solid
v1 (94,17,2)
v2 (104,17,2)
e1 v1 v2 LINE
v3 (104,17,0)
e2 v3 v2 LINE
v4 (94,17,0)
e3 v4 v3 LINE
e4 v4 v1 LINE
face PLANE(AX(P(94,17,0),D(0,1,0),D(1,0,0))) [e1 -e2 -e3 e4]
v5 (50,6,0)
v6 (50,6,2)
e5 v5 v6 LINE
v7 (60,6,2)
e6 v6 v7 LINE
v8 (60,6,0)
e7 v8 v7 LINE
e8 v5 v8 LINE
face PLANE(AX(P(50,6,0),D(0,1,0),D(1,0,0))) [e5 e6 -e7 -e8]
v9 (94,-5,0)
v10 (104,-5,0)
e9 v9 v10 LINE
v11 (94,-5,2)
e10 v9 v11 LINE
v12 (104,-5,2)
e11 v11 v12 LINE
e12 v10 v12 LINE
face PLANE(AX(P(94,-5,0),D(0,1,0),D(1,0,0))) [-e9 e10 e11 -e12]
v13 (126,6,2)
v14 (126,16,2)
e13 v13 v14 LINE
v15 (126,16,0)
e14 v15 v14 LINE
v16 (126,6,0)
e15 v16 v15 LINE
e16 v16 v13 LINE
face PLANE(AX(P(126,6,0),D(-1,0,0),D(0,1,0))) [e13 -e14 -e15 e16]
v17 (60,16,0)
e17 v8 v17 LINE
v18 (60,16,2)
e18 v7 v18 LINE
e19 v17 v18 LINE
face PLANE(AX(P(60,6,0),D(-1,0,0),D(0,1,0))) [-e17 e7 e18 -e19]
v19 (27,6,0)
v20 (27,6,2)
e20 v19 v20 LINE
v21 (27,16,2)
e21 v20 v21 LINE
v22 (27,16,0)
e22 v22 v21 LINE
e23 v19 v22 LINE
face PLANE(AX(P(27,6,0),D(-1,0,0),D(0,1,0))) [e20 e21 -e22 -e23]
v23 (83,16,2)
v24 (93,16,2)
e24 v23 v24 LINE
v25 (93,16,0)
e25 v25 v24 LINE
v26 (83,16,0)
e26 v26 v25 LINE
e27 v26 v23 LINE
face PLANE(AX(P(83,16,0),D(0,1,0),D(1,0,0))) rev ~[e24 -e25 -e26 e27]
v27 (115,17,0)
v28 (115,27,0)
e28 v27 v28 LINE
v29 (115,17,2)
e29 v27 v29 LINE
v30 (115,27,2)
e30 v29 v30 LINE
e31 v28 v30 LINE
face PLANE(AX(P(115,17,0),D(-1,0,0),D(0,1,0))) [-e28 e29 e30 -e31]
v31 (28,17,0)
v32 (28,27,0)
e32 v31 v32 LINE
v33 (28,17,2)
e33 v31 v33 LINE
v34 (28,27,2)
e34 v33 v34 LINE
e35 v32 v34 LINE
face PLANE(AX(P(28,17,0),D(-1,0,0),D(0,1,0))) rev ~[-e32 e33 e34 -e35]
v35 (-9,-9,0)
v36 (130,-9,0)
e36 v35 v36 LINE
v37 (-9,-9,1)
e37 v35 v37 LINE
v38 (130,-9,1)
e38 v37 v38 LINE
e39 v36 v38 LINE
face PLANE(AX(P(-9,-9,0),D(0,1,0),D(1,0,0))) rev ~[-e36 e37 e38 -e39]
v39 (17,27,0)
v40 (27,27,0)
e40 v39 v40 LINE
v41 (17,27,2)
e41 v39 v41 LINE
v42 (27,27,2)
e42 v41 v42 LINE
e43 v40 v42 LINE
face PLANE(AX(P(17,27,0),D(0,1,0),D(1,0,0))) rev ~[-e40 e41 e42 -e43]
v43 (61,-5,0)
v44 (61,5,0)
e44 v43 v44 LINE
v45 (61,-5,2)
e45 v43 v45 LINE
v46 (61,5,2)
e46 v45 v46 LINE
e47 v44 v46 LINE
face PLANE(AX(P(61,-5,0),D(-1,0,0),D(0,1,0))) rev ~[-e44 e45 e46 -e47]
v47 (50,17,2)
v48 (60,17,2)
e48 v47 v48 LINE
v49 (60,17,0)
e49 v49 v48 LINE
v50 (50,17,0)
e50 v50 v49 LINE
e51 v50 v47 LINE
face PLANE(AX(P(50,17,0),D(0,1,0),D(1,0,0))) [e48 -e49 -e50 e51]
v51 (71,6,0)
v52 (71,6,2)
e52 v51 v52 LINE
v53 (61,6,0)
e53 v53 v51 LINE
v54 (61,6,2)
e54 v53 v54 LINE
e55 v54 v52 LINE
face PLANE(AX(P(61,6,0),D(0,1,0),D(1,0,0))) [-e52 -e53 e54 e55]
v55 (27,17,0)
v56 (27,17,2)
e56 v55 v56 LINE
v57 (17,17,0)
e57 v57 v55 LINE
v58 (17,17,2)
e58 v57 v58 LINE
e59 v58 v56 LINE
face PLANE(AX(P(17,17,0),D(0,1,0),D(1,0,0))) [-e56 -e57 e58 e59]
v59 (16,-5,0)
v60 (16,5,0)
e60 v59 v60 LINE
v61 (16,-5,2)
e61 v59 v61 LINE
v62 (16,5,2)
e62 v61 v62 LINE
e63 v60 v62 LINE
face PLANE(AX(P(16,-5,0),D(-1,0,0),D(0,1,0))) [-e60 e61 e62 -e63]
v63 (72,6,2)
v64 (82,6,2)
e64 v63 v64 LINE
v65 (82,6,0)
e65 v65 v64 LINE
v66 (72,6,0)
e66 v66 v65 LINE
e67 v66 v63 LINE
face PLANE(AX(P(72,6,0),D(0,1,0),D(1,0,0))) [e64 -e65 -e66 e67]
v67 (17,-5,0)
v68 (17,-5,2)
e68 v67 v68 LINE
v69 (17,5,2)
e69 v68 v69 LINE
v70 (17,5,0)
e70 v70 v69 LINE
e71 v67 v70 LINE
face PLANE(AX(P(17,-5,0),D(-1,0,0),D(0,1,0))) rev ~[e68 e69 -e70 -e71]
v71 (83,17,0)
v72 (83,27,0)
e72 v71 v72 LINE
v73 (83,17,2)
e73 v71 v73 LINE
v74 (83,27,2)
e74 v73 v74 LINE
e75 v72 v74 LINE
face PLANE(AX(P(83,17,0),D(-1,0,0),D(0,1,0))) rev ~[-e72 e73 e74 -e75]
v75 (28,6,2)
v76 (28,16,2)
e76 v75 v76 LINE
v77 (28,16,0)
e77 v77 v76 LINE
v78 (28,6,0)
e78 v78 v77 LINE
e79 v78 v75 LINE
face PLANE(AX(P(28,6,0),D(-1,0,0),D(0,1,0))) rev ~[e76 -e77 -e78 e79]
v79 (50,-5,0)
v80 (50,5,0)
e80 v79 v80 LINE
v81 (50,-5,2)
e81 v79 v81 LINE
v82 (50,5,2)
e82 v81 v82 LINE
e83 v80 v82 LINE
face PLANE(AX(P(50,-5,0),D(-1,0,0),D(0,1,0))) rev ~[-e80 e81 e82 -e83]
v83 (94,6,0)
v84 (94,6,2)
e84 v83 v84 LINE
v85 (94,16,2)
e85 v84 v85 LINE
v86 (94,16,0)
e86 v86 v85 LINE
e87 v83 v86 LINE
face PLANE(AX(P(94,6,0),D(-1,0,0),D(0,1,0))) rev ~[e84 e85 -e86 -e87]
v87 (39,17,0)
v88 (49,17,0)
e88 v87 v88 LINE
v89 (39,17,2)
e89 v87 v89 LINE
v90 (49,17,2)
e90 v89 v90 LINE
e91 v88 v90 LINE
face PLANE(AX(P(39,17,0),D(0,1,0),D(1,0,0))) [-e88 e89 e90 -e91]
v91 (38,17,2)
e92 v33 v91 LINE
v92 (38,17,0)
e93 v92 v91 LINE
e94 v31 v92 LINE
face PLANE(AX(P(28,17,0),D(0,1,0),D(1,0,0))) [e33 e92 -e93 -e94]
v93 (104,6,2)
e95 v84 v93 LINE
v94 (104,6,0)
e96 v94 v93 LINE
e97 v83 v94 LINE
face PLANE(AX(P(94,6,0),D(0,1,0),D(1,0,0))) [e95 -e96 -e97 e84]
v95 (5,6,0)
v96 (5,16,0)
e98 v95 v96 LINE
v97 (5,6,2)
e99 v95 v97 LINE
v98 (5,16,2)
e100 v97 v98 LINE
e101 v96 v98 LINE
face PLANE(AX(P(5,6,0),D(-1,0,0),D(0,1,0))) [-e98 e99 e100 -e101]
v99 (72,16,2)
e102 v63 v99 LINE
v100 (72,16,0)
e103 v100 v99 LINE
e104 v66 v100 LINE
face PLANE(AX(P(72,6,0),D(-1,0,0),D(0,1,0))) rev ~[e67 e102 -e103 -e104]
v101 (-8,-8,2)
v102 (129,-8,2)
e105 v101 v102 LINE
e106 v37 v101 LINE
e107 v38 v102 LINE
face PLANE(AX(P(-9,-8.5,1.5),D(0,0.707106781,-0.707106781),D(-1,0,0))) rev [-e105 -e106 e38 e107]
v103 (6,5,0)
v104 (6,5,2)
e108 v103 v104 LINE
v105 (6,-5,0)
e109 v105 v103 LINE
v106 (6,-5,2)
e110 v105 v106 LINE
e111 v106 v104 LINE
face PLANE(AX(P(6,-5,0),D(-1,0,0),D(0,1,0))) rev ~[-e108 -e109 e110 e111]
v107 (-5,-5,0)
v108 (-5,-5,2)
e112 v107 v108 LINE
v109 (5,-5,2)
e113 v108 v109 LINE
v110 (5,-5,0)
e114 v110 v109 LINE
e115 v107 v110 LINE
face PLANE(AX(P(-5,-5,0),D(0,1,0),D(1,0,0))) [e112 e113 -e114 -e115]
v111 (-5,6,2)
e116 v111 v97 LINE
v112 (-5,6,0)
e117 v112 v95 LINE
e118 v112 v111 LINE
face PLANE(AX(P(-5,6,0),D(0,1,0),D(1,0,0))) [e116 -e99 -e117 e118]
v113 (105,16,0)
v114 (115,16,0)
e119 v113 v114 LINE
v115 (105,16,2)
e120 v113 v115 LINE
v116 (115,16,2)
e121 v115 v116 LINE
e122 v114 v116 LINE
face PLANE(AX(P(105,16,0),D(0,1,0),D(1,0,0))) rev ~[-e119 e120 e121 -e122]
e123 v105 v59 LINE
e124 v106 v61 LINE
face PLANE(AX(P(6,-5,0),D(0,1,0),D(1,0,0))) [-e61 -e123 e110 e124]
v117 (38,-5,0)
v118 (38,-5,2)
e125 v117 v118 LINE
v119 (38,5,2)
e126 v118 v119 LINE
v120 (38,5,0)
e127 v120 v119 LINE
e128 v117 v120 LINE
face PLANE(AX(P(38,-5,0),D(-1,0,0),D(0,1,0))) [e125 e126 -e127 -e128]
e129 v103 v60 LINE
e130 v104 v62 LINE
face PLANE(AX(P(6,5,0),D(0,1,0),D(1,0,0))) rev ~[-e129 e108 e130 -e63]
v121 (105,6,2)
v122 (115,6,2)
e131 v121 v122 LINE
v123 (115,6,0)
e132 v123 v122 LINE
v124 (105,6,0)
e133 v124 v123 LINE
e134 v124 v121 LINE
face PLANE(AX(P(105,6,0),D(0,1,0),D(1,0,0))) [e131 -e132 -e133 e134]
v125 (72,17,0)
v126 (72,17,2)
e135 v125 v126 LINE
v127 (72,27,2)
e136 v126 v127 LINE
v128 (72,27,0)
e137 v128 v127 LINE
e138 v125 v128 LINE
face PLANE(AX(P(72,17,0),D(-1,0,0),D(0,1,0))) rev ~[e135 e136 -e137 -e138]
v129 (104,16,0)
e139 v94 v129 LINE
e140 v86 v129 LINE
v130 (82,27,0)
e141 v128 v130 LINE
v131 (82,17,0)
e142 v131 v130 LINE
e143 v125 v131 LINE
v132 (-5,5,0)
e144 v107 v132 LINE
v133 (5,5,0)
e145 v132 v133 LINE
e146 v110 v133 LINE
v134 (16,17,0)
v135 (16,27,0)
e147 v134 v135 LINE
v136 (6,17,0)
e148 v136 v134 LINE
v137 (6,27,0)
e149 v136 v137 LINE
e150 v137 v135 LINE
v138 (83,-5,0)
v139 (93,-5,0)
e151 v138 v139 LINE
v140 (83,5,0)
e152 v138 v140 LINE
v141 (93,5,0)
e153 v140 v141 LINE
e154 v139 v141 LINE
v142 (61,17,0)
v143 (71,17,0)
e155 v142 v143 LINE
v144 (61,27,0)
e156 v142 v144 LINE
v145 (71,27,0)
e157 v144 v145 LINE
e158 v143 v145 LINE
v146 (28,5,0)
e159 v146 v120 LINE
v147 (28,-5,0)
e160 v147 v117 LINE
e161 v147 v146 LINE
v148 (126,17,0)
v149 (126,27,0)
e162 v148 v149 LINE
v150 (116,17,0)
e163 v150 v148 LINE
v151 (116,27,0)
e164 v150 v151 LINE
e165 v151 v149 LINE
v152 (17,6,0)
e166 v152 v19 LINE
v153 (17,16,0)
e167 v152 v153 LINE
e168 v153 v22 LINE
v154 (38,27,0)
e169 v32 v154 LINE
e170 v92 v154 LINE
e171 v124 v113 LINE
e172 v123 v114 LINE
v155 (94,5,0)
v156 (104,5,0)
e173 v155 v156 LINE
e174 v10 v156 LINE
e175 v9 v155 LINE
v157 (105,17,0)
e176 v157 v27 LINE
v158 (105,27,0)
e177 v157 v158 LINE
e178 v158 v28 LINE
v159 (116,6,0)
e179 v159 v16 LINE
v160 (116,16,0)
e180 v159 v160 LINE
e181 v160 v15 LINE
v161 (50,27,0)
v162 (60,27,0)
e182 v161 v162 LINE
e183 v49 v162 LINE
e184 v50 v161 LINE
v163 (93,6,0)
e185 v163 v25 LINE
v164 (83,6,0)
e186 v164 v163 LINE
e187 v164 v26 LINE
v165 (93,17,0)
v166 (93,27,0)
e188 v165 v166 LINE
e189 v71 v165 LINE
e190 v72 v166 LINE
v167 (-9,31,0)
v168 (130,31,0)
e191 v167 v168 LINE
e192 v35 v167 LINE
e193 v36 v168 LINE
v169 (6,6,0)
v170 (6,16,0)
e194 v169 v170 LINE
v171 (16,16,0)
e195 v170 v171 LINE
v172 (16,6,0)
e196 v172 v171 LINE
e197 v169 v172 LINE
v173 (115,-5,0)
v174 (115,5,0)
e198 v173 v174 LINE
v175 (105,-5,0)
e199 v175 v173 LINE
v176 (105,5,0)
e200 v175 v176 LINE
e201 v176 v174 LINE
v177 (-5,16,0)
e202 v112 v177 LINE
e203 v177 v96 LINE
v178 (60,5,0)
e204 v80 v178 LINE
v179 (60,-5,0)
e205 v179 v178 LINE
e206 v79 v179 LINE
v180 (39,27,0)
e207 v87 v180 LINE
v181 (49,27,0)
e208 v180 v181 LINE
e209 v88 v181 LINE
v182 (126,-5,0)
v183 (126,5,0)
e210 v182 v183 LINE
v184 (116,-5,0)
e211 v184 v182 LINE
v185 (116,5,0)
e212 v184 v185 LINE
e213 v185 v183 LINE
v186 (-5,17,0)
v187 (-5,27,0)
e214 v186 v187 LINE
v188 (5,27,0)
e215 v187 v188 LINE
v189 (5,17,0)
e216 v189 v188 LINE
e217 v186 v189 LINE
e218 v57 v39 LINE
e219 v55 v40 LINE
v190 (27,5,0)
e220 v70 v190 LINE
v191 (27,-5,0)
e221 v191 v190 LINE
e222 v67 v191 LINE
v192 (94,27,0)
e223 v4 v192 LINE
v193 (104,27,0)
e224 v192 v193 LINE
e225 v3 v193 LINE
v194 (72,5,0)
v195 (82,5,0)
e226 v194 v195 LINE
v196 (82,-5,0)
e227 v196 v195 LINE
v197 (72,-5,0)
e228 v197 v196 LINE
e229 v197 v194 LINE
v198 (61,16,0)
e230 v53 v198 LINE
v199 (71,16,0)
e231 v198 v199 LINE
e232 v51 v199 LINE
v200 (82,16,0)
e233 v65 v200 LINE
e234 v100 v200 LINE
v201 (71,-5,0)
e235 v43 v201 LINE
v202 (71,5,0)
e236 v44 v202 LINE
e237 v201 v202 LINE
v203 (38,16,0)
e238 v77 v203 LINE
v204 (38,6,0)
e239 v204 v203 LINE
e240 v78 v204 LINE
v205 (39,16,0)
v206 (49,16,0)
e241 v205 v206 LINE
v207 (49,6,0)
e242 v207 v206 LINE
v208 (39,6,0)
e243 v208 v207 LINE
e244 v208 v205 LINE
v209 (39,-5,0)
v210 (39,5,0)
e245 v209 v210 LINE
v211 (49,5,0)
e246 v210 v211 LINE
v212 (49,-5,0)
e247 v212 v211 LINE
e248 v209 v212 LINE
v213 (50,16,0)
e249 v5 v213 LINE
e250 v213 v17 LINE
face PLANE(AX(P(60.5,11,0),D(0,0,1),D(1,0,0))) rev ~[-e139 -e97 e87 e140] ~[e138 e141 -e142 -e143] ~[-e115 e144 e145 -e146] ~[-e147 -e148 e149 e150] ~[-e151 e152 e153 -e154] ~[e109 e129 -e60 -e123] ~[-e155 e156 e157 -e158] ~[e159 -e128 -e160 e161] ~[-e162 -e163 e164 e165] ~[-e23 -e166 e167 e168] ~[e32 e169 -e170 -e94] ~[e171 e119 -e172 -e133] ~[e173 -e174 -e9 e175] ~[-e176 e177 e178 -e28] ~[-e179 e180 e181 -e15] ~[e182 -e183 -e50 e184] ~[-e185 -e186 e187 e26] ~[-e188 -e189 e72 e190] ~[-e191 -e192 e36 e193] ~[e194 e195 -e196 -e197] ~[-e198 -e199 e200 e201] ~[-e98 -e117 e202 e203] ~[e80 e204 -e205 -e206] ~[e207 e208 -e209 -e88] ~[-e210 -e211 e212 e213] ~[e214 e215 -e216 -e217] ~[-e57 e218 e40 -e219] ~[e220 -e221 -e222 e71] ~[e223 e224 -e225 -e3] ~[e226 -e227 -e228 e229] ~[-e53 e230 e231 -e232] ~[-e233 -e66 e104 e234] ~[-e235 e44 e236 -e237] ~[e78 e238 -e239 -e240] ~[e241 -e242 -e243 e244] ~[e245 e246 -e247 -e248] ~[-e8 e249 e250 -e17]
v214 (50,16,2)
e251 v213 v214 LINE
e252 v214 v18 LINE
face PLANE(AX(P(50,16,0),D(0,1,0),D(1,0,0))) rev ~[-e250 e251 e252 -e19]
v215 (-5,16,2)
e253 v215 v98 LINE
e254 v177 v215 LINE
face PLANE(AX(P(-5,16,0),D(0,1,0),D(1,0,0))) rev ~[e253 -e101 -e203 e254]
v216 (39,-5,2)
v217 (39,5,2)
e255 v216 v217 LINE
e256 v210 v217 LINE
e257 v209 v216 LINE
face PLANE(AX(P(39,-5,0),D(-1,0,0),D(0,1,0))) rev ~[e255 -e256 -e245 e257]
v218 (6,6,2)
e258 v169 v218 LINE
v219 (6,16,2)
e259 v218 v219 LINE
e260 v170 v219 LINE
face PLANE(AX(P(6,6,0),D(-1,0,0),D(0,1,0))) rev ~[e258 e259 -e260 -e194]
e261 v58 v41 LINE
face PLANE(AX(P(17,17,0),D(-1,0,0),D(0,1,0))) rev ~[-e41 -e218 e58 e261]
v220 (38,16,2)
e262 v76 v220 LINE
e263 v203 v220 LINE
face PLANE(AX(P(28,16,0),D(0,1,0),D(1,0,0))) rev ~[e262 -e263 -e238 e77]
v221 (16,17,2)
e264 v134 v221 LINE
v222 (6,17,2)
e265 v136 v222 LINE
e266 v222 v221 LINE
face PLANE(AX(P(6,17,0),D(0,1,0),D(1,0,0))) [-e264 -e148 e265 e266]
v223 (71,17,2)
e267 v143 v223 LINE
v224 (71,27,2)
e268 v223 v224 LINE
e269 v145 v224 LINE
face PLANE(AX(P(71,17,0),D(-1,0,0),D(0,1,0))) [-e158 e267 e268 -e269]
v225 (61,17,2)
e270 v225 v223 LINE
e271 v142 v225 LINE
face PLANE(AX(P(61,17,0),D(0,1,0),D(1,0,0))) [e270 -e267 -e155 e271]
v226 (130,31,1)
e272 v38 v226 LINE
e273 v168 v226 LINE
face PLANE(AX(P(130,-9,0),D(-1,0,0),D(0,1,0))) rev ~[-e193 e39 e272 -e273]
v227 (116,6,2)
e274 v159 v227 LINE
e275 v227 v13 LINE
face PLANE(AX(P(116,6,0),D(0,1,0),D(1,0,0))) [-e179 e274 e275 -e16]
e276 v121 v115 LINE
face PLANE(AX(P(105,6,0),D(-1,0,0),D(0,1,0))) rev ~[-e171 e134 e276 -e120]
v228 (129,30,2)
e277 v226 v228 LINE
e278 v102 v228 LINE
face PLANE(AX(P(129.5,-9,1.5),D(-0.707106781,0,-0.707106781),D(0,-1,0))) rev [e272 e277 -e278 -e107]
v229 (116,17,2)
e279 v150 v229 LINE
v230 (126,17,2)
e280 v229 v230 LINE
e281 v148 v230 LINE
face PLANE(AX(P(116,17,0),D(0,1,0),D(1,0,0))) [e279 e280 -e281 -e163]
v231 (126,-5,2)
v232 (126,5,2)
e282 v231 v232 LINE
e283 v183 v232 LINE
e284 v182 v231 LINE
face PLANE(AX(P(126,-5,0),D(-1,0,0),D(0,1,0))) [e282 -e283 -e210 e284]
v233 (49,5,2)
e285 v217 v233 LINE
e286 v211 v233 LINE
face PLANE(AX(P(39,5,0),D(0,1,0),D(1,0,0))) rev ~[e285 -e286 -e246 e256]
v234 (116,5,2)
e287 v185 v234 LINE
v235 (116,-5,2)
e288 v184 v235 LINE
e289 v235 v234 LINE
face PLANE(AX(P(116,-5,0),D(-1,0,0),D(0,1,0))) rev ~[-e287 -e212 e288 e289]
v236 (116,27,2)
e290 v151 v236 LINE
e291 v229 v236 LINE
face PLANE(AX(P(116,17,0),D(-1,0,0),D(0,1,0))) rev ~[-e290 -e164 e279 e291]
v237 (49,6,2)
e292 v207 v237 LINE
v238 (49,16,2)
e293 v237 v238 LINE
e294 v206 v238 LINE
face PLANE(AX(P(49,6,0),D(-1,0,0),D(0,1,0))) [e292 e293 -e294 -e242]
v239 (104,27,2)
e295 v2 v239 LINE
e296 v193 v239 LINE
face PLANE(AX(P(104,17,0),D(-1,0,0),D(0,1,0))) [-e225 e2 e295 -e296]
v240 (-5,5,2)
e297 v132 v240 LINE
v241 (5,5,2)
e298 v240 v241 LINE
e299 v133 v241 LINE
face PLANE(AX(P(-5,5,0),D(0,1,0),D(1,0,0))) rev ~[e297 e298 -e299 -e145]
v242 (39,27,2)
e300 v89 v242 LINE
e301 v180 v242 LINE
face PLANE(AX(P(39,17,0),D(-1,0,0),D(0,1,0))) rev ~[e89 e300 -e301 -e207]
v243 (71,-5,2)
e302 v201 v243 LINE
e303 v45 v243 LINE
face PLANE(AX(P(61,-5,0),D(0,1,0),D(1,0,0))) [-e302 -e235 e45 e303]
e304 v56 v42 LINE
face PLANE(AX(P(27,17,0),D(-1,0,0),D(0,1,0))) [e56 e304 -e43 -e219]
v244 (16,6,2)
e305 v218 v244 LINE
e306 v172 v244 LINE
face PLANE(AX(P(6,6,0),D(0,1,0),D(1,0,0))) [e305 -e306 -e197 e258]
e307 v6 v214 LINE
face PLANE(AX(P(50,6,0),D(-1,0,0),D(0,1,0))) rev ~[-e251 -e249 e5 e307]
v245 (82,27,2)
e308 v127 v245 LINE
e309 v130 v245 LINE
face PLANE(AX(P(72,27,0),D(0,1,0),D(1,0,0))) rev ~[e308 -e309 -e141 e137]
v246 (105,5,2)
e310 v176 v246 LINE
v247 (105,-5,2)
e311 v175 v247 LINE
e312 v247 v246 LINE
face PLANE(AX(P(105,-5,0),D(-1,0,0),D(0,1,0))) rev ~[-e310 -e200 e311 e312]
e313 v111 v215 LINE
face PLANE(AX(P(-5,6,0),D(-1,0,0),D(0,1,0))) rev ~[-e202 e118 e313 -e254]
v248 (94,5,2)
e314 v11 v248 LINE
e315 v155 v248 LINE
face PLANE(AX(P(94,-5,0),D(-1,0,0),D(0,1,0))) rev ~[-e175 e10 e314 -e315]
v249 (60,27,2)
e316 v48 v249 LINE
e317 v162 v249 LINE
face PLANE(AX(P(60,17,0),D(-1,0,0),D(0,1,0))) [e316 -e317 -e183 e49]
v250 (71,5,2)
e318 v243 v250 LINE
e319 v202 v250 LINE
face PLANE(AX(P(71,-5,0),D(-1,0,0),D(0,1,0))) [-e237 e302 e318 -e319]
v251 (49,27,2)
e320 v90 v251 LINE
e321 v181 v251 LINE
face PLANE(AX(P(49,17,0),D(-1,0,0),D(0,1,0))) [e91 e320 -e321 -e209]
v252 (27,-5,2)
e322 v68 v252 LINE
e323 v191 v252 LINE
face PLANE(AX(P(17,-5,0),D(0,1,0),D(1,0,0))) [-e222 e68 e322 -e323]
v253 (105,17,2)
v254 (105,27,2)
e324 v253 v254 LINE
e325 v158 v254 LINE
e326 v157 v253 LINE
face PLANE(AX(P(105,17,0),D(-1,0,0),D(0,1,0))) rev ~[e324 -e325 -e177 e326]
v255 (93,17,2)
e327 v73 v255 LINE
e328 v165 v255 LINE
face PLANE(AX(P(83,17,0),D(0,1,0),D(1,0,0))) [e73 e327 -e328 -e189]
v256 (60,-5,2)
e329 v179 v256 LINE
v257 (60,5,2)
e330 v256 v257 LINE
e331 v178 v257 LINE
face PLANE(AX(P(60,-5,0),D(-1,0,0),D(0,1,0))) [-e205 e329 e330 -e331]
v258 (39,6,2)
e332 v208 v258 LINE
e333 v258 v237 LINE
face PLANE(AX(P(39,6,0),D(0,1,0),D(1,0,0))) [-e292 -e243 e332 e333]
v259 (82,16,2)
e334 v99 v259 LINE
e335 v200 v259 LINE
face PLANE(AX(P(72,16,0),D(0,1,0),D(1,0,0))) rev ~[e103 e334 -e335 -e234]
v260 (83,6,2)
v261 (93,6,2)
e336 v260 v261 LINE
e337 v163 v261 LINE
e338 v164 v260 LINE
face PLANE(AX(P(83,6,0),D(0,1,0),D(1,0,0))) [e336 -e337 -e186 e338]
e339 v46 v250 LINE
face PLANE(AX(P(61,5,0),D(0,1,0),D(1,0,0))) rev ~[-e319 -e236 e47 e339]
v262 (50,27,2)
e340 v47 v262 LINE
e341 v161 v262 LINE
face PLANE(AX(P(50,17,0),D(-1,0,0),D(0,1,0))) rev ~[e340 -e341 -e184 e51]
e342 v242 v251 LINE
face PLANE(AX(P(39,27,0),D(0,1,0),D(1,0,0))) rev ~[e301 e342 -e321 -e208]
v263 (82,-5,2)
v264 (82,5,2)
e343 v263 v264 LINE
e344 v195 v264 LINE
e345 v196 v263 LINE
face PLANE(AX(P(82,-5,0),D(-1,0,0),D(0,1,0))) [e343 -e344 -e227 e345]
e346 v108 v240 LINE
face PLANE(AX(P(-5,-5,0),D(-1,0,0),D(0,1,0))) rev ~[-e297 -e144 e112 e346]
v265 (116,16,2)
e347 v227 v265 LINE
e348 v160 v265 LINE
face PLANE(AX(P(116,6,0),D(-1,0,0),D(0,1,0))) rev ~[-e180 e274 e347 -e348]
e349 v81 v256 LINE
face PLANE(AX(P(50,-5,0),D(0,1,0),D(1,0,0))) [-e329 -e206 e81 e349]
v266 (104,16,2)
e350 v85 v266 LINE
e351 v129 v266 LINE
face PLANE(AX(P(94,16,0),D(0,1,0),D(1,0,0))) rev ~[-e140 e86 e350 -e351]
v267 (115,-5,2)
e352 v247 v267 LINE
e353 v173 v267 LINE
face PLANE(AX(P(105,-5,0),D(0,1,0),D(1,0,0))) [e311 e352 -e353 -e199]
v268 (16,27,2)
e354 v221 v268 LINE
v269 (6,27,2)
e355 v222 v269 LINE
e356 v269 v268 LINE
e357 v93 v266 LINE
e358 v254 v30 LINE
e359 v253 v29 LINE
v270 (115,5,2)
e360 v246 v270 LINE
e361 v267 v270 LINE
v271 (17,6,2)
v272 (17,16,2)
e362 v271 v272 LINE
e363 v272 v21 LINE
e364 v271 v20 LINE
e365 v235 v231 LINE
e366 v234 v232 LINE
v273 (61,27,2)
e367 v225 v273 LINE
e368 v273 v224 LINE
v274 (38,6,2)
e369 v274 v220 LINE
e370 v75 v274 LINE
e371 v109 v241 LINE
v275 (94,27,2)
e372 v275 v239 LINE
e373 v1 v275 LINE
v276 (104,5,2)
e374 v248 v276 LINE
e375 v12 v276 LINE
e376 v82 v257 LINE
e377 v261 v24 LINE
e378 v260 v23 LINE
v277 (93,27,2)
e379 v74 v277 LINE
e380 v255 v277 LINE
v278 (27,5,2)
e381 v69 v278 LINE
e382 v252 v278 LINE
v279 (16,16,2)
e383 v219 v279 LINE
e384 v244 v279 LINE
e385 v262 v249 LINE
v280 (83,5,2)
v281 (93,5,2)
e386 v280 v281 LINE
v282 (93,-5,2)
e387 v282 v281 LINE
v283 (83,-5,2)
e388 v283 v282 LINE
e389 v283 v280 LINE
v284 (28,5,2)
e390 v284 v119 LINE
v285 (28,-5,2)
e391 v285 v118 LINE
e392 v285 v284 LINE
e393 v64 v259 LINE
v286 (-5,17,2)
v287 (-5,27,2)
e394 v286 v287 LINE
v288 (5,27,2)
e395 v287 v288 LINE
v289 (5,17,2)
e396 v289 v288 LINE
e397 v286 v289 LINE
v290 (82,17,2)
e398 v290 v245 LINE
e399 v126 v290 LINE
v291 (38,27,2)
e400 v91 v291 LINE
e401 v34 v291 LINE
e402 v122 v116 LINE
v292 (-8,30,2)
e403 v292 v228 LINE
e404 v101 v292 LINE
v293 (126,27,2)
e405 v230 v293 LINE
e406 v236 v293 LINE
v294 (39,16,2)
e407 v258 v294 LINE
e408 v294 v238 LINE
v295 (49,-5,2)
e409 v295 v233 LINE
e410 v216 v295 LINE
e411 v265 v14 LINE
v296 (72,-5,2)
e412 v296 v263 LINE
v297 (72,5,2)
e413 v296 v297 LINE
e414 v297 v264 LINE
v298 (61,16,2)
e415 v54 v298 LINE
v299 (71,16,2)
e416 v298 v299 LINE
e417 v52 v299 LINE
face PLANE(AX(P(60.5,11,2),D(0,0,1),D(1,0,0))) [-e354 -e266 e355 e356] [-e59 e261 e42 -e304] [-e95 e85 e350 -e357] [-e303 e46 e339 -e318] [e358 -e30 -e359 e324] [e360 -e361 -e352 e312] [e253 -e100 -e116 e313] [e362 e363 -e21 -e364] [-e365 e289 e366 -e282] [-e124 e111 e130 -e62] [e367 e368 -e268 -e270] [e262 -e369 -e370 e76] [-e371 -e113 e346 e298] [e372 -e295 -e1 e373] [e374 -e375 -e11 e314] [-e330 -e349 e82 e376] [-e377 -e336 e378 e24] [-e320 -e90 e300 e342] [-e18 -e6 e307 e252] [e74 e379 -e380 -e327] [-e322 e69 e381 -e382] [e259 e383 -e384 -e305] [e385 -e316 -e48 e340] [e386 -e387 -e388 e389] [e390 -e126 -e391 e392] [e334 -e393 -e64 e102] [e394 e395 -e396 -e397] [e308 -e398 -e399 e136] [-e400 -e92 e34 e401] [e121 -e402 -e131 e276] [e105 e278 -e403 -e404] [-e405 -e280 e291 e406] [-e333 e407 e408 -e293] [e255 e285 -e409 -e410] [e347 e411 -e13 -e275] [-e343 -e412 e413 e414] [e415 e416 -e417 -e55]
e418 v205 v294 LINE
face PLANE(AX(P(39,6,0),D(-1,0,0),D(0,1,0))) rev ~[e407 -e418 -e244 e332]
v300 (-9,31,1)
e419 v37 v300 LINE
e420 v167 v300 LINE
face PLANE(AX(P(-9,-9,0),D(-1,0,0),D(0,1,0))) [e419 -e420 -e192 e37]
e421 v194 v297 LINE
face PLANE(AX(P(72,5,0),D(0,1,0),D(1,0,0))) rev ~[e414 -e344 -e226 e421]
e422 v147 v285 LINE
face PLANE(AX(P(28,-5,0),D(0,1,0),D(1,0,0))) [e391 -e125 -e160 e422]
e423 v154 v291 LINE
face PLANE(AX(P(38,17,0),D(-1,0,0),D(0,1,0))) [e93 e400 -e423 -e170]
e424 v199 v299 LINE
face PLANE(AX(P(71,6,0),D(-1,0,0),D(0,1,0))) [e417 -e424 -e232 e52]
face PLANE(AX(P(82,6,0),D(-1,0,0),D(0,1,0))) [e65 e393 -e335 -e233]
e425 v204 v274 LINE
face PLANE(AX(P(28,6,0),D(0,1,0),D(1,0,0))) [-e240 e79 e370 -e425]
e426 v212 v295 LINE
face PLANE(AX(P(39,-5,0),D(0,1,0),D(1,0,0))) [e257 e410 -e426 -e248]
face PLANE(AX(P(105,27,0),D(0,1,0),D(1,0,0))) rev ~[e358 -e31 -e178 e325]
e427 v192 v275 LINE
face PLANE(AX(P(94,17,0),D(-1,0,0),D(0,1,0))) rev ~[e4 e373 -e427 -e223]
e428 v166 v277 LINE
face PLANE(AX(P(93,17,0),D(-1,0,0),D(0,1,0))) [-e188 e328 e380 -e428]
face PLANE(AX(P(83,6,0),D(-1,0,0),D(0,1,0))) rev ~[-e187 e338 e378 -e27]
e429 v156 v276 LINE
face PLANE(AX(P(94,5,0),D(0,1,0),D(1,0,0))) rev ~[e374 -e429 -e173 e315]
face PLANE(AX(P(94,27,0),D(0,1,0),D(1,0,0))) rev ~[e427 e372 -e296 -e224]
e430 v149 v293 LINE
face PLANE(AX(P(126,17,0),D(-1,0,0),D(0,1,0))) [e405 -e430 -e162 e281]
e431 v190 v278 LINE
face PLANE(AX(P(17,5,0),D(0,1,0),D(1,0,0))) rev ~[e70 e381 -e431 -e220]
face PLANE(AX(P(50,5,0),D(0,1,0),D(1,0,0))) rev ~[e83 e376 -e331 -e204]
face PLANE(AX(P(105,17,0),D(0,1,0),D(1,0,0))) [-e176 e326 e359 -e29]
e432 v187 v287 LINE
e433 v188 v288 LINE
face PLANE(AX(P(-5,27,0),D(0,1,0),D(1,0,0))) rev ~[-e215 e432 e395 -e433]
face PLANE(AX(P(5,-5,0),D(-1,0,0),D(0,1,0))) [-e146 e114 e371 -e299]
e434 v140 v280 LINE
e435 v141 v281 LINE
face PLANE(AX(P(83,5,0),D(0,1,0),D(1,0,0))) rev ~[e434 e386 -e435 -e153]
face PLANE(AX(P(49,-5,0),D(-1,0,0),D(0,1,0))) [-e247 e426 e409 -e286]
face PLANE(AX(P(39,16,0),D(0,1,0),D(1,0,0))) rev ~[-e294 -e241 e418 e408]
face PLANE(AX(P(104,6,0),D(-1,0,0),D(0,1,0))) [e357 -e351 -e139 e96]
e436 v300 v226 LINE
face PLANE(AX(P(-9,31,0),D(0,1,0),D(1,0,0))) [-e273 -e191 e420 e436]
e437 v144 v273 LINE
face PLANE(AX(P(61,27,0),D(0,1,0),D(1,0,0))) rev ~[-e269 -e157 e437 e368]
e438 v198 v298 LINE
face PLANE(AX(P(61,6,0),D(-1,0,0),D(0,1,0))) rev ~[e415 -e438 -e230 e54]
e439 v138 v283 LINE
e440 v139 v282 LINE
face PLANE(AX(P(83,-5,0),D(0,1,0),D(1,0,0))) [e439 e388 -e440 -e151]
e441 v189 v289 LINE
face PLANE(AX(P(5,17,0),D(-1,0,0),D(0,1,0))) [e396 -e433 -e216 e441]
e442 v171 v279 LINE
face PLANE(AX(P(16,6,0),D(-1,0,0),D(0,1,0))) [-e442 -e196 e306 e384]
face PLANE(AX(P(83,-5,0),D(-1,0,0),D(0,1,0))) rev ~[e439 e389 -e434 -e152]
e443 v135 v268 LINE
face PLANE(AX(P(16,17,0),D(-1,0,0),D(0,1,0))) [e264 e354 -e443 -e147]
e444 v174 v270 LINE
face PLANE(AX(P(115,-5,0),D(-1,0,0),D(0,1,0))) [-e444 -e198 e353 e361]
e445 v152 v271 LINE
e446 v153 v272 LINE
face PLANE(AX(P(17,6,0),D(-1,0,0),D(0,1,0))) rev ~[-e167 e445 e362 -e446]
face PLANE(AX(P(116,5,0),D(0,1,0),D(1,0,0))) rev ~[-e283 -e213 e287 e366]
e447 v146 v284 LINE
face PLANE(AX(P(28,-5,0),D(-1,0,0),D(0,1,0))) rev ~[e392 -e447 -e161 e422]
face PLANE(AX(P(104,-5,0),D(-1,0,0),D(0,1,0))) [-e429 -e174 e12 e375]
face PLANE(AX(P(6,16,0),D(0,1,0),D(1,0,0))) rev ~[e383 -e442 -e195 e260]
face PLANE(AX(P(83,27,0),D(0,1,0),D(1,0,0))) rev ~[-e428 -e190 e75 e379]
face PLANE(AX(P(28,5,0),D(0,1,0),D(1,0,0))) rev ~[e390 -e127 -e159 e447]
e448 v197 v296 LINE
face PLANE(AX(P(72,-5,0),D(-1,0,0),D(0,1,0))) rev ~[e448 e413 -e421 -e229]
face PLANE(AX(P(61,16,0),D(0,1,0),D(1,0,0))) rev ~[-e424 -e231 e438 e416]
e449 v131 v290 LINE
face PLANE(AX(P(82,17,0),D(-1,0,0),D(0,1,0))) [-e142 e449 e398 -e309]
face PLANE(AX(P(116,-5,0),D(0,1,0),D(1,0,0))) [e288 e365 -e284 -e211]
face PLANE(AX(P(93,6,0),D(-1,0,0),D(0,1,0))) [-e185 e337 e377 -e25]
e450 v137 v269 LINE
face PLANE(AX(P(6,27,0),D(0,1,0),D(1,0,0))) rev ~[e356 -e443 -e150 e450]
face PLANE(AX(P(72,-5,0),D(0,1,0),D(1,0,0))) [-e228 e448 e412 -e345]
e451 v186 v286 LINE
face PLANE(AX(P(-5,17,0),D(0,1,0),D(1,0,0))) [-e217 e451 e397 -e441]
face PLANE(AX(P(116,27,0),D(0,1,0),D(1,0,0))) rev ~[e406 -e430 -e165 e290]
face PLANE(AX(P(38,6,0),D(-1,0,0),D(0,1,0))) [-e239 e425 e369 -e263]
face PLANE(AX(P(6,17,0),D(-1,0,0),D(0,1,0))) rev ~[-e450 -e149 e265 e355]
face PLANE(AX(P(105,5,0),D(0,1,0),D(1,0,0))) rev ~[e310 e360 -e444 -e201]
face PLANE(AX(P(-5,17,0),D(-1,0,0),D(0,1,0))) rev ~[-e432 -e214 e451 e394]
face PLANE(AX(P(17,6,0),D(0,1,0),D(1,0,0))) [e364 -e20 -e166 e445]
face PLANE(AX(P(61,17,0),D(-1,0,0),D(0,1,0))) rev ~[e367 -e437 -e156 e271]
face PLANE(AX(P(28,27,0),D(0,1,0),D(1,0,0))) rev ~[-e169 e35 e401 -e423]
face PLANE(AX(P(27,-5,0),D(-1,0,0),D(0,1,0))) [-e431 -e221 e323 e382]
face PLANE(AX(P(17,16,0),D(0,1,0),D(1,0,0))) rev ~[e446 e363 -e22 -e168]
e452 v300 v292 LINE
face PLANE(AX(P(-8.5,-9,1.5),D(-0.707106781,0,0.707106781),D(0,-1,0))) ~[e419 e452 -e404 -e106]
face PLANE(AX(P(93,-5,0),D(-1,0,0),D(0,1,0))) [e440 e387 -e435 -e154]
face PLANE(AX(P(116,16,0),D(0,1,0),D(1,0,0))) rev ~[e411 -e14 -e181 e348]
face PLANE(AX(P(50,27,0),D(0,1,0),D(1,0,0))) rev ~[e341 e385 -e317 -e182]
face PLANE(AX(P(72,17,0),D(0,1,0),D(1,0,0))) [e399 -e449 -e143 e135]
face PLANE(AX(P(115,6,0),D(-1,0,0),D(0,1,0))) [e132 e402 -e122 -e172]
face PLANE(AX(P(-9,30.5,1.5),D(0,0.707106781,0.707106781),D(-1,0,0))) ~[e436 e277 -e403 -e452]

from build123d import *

# Parameters (mm, degrees)
F0_W     = 139
F0_H     = 40
F0_W_2   = 10
F0_H_2   = 10
F1_DEPTH = 2
F2_SIZE  = 1


with BuildPart() as f1:
    # F0 (on Top) → F1 (new body)
    with BuildSketch(Plane.XY):
        with Locations((60.5, 11)):
            Rectangle(F0_W, F0_H)
        Rectangle(F0_W_2, F0_H_2, mode=Mode.SUBTRACT)
        with Locations((11, 0)):
            Rectangle(F0_W_2, F0_H_2, mode=Mode.SUBTRACT)
        with Locations((22, 0)):
            Rectangle(F0_W_2, F0_H_2, mode=Mode.SUBTRACT)
        with Locations((33, 0)):
            Rectangle(F0_W_2, F0_H_2, mode=Mode.SUBTRACT)
        with Locations((44, 0)):
            Rectangle(F0_W_2, F0_H_2, mode=Mode.SUBTRACT)
        with Locations((55, 0)):
            Rectangle(F0_W_2, F0_H_2, mode=Mode.SUBTRACT)
        with Locations((66, 0)):
            Rectangle(F0_W_2, F0_H_2, mode=Mode.SUBTRACT)
        with Locations((77, 0)):
            Rectangle(F0_W_2, F0_H_2, mode=Mode.SUBTRACT)
        with Locations((88, 0)):
            Rectangle(F0_W_2, F0_H_2, mode=Mode.SUBTRACT)
        with Locations((99, 0)):
            Rectangle(F0_W_2, F0_H_2, mode=Mode.SUBTRACT)
        with Locations((110, 0)):
            Rectangle(F0_W_2, F0_H_2, mode=Mode.SUBTRACT)
        with Locations((121, 0)):
            Rectangle(F0_W_2, F0_H_2, mode=Mode.SUBTRACT)
        with Locations((0, 11)):
            Rectangle(F0_W_2, F0_H_2, mode=Mode.SUBTRACT)
        with Locations((11, 11)):
            Rectangle(F0_W_2, F0_H_2, mode=Mode.SUBTRACT)
        with Locations((22, 11)):
            Rectangle(F0_W_2, F0_H_2, mode=Mode.SUBTRACT)
        with Locations((33, 11)):
            Rectangle(F0_W_2, F0_H_2, mode=Mode.SUBTRACT)
        with Locations((44, 11)):
            Rectangle(F0_W_2, F0_H_2, mode=Mode.SUBTRACT)
        with Locations((55, 11)):
            Rectangle(F0_W_2, F0_H_2, mode=Mode.SUBTRACT)
        with Locations((0, 22)):
            Rectangle(F0_W_2, F0_H_2, mode=Mode.SUBTRACT)
        with Locations((11, 22)):
            Rectangle(F0_W_2, F0_H_2, mode=Mode.SUBTRACT)
        with Locations((22, 22)):
            Rectangle(F0_W_2, F0_H_2, mode=Mode.SUBTRACT)
        with Locations((33, 22)):
            Rectangle(F0_W_2, F0_H_2, mode=Mode.SUBTRACT)
        with Locations((44, 22)):
            Rectangle(F0_W_2, F0_H_2, mode=Mode.SUBTRACT)
        with Locations((55, 22)):
            Rectangle(F0_W_2, F0_H_2, mode=Mode.SUBTRACT)
        with Locations((66, 11)):
            Rectangle(F0_W_2, F0_H_2, mode=Mode.SUBTRACT)
        with Locations((77, 11)):
            Rectangle(F0_W_2, F0_H_2, mode=Mode.SUBTRACT)
        with Locations((88, 11)):
            Rectangle(F0_W_2, F0_H_2, mode=Mode.SUBTRACT)
        with Locations((99, 11)):
            Rectangle(F0_W_2, F0_H_2, mode=Mode.SUBTRACT)
        with Locations((110, 11)):
            Rectangle(F0_W_2, F0_H_2, mode=Mode.SUBTRACT)
        with Locations((121, 11)):
            Rectangle(F0_W_2, F0_H_2, mode=Mode.SUBTRACT)
        with Locations((66, 22)):
            Rectangle(F0_W_2, F0_H_2, mode=Mode.SUBTRACT)
        with Locations((77, 22)):
            Rectangle(F0_W_2, F0_H_2, mode=Mode.SUBTRACT)
        with Locations((88, 22)):
            Rectangle(F0_W_2, F0_H_2, mode=Mode.SUBTRACT)
        with Locations((99, 22)):
            Rectangle(F0_W_2, F0_H_2, mode=Mode.SUBTRACT)
        with Locations((110, 22)):
            Rectangle(F0_W_2, F0_H_2, mode=Mode.SUBTRACT)
        with Locations((121, 22)):
            Rectangle(F0_W_2, F0_H_2, mode=Mode.SUBTRACT)
    extrude(amount=F1_DEPTH)

    # F2
    f2_edges = [f1.edges().sort_by_distance(p)[0] for p in [
        (60.5, -9, 2),
        (-9, 11, 2),
        (60.5, 31, 2),
        (130, 11, 2),
    ]]
    chamfer(f2_edges, length=F2_SIZE)


solid = f1.part
